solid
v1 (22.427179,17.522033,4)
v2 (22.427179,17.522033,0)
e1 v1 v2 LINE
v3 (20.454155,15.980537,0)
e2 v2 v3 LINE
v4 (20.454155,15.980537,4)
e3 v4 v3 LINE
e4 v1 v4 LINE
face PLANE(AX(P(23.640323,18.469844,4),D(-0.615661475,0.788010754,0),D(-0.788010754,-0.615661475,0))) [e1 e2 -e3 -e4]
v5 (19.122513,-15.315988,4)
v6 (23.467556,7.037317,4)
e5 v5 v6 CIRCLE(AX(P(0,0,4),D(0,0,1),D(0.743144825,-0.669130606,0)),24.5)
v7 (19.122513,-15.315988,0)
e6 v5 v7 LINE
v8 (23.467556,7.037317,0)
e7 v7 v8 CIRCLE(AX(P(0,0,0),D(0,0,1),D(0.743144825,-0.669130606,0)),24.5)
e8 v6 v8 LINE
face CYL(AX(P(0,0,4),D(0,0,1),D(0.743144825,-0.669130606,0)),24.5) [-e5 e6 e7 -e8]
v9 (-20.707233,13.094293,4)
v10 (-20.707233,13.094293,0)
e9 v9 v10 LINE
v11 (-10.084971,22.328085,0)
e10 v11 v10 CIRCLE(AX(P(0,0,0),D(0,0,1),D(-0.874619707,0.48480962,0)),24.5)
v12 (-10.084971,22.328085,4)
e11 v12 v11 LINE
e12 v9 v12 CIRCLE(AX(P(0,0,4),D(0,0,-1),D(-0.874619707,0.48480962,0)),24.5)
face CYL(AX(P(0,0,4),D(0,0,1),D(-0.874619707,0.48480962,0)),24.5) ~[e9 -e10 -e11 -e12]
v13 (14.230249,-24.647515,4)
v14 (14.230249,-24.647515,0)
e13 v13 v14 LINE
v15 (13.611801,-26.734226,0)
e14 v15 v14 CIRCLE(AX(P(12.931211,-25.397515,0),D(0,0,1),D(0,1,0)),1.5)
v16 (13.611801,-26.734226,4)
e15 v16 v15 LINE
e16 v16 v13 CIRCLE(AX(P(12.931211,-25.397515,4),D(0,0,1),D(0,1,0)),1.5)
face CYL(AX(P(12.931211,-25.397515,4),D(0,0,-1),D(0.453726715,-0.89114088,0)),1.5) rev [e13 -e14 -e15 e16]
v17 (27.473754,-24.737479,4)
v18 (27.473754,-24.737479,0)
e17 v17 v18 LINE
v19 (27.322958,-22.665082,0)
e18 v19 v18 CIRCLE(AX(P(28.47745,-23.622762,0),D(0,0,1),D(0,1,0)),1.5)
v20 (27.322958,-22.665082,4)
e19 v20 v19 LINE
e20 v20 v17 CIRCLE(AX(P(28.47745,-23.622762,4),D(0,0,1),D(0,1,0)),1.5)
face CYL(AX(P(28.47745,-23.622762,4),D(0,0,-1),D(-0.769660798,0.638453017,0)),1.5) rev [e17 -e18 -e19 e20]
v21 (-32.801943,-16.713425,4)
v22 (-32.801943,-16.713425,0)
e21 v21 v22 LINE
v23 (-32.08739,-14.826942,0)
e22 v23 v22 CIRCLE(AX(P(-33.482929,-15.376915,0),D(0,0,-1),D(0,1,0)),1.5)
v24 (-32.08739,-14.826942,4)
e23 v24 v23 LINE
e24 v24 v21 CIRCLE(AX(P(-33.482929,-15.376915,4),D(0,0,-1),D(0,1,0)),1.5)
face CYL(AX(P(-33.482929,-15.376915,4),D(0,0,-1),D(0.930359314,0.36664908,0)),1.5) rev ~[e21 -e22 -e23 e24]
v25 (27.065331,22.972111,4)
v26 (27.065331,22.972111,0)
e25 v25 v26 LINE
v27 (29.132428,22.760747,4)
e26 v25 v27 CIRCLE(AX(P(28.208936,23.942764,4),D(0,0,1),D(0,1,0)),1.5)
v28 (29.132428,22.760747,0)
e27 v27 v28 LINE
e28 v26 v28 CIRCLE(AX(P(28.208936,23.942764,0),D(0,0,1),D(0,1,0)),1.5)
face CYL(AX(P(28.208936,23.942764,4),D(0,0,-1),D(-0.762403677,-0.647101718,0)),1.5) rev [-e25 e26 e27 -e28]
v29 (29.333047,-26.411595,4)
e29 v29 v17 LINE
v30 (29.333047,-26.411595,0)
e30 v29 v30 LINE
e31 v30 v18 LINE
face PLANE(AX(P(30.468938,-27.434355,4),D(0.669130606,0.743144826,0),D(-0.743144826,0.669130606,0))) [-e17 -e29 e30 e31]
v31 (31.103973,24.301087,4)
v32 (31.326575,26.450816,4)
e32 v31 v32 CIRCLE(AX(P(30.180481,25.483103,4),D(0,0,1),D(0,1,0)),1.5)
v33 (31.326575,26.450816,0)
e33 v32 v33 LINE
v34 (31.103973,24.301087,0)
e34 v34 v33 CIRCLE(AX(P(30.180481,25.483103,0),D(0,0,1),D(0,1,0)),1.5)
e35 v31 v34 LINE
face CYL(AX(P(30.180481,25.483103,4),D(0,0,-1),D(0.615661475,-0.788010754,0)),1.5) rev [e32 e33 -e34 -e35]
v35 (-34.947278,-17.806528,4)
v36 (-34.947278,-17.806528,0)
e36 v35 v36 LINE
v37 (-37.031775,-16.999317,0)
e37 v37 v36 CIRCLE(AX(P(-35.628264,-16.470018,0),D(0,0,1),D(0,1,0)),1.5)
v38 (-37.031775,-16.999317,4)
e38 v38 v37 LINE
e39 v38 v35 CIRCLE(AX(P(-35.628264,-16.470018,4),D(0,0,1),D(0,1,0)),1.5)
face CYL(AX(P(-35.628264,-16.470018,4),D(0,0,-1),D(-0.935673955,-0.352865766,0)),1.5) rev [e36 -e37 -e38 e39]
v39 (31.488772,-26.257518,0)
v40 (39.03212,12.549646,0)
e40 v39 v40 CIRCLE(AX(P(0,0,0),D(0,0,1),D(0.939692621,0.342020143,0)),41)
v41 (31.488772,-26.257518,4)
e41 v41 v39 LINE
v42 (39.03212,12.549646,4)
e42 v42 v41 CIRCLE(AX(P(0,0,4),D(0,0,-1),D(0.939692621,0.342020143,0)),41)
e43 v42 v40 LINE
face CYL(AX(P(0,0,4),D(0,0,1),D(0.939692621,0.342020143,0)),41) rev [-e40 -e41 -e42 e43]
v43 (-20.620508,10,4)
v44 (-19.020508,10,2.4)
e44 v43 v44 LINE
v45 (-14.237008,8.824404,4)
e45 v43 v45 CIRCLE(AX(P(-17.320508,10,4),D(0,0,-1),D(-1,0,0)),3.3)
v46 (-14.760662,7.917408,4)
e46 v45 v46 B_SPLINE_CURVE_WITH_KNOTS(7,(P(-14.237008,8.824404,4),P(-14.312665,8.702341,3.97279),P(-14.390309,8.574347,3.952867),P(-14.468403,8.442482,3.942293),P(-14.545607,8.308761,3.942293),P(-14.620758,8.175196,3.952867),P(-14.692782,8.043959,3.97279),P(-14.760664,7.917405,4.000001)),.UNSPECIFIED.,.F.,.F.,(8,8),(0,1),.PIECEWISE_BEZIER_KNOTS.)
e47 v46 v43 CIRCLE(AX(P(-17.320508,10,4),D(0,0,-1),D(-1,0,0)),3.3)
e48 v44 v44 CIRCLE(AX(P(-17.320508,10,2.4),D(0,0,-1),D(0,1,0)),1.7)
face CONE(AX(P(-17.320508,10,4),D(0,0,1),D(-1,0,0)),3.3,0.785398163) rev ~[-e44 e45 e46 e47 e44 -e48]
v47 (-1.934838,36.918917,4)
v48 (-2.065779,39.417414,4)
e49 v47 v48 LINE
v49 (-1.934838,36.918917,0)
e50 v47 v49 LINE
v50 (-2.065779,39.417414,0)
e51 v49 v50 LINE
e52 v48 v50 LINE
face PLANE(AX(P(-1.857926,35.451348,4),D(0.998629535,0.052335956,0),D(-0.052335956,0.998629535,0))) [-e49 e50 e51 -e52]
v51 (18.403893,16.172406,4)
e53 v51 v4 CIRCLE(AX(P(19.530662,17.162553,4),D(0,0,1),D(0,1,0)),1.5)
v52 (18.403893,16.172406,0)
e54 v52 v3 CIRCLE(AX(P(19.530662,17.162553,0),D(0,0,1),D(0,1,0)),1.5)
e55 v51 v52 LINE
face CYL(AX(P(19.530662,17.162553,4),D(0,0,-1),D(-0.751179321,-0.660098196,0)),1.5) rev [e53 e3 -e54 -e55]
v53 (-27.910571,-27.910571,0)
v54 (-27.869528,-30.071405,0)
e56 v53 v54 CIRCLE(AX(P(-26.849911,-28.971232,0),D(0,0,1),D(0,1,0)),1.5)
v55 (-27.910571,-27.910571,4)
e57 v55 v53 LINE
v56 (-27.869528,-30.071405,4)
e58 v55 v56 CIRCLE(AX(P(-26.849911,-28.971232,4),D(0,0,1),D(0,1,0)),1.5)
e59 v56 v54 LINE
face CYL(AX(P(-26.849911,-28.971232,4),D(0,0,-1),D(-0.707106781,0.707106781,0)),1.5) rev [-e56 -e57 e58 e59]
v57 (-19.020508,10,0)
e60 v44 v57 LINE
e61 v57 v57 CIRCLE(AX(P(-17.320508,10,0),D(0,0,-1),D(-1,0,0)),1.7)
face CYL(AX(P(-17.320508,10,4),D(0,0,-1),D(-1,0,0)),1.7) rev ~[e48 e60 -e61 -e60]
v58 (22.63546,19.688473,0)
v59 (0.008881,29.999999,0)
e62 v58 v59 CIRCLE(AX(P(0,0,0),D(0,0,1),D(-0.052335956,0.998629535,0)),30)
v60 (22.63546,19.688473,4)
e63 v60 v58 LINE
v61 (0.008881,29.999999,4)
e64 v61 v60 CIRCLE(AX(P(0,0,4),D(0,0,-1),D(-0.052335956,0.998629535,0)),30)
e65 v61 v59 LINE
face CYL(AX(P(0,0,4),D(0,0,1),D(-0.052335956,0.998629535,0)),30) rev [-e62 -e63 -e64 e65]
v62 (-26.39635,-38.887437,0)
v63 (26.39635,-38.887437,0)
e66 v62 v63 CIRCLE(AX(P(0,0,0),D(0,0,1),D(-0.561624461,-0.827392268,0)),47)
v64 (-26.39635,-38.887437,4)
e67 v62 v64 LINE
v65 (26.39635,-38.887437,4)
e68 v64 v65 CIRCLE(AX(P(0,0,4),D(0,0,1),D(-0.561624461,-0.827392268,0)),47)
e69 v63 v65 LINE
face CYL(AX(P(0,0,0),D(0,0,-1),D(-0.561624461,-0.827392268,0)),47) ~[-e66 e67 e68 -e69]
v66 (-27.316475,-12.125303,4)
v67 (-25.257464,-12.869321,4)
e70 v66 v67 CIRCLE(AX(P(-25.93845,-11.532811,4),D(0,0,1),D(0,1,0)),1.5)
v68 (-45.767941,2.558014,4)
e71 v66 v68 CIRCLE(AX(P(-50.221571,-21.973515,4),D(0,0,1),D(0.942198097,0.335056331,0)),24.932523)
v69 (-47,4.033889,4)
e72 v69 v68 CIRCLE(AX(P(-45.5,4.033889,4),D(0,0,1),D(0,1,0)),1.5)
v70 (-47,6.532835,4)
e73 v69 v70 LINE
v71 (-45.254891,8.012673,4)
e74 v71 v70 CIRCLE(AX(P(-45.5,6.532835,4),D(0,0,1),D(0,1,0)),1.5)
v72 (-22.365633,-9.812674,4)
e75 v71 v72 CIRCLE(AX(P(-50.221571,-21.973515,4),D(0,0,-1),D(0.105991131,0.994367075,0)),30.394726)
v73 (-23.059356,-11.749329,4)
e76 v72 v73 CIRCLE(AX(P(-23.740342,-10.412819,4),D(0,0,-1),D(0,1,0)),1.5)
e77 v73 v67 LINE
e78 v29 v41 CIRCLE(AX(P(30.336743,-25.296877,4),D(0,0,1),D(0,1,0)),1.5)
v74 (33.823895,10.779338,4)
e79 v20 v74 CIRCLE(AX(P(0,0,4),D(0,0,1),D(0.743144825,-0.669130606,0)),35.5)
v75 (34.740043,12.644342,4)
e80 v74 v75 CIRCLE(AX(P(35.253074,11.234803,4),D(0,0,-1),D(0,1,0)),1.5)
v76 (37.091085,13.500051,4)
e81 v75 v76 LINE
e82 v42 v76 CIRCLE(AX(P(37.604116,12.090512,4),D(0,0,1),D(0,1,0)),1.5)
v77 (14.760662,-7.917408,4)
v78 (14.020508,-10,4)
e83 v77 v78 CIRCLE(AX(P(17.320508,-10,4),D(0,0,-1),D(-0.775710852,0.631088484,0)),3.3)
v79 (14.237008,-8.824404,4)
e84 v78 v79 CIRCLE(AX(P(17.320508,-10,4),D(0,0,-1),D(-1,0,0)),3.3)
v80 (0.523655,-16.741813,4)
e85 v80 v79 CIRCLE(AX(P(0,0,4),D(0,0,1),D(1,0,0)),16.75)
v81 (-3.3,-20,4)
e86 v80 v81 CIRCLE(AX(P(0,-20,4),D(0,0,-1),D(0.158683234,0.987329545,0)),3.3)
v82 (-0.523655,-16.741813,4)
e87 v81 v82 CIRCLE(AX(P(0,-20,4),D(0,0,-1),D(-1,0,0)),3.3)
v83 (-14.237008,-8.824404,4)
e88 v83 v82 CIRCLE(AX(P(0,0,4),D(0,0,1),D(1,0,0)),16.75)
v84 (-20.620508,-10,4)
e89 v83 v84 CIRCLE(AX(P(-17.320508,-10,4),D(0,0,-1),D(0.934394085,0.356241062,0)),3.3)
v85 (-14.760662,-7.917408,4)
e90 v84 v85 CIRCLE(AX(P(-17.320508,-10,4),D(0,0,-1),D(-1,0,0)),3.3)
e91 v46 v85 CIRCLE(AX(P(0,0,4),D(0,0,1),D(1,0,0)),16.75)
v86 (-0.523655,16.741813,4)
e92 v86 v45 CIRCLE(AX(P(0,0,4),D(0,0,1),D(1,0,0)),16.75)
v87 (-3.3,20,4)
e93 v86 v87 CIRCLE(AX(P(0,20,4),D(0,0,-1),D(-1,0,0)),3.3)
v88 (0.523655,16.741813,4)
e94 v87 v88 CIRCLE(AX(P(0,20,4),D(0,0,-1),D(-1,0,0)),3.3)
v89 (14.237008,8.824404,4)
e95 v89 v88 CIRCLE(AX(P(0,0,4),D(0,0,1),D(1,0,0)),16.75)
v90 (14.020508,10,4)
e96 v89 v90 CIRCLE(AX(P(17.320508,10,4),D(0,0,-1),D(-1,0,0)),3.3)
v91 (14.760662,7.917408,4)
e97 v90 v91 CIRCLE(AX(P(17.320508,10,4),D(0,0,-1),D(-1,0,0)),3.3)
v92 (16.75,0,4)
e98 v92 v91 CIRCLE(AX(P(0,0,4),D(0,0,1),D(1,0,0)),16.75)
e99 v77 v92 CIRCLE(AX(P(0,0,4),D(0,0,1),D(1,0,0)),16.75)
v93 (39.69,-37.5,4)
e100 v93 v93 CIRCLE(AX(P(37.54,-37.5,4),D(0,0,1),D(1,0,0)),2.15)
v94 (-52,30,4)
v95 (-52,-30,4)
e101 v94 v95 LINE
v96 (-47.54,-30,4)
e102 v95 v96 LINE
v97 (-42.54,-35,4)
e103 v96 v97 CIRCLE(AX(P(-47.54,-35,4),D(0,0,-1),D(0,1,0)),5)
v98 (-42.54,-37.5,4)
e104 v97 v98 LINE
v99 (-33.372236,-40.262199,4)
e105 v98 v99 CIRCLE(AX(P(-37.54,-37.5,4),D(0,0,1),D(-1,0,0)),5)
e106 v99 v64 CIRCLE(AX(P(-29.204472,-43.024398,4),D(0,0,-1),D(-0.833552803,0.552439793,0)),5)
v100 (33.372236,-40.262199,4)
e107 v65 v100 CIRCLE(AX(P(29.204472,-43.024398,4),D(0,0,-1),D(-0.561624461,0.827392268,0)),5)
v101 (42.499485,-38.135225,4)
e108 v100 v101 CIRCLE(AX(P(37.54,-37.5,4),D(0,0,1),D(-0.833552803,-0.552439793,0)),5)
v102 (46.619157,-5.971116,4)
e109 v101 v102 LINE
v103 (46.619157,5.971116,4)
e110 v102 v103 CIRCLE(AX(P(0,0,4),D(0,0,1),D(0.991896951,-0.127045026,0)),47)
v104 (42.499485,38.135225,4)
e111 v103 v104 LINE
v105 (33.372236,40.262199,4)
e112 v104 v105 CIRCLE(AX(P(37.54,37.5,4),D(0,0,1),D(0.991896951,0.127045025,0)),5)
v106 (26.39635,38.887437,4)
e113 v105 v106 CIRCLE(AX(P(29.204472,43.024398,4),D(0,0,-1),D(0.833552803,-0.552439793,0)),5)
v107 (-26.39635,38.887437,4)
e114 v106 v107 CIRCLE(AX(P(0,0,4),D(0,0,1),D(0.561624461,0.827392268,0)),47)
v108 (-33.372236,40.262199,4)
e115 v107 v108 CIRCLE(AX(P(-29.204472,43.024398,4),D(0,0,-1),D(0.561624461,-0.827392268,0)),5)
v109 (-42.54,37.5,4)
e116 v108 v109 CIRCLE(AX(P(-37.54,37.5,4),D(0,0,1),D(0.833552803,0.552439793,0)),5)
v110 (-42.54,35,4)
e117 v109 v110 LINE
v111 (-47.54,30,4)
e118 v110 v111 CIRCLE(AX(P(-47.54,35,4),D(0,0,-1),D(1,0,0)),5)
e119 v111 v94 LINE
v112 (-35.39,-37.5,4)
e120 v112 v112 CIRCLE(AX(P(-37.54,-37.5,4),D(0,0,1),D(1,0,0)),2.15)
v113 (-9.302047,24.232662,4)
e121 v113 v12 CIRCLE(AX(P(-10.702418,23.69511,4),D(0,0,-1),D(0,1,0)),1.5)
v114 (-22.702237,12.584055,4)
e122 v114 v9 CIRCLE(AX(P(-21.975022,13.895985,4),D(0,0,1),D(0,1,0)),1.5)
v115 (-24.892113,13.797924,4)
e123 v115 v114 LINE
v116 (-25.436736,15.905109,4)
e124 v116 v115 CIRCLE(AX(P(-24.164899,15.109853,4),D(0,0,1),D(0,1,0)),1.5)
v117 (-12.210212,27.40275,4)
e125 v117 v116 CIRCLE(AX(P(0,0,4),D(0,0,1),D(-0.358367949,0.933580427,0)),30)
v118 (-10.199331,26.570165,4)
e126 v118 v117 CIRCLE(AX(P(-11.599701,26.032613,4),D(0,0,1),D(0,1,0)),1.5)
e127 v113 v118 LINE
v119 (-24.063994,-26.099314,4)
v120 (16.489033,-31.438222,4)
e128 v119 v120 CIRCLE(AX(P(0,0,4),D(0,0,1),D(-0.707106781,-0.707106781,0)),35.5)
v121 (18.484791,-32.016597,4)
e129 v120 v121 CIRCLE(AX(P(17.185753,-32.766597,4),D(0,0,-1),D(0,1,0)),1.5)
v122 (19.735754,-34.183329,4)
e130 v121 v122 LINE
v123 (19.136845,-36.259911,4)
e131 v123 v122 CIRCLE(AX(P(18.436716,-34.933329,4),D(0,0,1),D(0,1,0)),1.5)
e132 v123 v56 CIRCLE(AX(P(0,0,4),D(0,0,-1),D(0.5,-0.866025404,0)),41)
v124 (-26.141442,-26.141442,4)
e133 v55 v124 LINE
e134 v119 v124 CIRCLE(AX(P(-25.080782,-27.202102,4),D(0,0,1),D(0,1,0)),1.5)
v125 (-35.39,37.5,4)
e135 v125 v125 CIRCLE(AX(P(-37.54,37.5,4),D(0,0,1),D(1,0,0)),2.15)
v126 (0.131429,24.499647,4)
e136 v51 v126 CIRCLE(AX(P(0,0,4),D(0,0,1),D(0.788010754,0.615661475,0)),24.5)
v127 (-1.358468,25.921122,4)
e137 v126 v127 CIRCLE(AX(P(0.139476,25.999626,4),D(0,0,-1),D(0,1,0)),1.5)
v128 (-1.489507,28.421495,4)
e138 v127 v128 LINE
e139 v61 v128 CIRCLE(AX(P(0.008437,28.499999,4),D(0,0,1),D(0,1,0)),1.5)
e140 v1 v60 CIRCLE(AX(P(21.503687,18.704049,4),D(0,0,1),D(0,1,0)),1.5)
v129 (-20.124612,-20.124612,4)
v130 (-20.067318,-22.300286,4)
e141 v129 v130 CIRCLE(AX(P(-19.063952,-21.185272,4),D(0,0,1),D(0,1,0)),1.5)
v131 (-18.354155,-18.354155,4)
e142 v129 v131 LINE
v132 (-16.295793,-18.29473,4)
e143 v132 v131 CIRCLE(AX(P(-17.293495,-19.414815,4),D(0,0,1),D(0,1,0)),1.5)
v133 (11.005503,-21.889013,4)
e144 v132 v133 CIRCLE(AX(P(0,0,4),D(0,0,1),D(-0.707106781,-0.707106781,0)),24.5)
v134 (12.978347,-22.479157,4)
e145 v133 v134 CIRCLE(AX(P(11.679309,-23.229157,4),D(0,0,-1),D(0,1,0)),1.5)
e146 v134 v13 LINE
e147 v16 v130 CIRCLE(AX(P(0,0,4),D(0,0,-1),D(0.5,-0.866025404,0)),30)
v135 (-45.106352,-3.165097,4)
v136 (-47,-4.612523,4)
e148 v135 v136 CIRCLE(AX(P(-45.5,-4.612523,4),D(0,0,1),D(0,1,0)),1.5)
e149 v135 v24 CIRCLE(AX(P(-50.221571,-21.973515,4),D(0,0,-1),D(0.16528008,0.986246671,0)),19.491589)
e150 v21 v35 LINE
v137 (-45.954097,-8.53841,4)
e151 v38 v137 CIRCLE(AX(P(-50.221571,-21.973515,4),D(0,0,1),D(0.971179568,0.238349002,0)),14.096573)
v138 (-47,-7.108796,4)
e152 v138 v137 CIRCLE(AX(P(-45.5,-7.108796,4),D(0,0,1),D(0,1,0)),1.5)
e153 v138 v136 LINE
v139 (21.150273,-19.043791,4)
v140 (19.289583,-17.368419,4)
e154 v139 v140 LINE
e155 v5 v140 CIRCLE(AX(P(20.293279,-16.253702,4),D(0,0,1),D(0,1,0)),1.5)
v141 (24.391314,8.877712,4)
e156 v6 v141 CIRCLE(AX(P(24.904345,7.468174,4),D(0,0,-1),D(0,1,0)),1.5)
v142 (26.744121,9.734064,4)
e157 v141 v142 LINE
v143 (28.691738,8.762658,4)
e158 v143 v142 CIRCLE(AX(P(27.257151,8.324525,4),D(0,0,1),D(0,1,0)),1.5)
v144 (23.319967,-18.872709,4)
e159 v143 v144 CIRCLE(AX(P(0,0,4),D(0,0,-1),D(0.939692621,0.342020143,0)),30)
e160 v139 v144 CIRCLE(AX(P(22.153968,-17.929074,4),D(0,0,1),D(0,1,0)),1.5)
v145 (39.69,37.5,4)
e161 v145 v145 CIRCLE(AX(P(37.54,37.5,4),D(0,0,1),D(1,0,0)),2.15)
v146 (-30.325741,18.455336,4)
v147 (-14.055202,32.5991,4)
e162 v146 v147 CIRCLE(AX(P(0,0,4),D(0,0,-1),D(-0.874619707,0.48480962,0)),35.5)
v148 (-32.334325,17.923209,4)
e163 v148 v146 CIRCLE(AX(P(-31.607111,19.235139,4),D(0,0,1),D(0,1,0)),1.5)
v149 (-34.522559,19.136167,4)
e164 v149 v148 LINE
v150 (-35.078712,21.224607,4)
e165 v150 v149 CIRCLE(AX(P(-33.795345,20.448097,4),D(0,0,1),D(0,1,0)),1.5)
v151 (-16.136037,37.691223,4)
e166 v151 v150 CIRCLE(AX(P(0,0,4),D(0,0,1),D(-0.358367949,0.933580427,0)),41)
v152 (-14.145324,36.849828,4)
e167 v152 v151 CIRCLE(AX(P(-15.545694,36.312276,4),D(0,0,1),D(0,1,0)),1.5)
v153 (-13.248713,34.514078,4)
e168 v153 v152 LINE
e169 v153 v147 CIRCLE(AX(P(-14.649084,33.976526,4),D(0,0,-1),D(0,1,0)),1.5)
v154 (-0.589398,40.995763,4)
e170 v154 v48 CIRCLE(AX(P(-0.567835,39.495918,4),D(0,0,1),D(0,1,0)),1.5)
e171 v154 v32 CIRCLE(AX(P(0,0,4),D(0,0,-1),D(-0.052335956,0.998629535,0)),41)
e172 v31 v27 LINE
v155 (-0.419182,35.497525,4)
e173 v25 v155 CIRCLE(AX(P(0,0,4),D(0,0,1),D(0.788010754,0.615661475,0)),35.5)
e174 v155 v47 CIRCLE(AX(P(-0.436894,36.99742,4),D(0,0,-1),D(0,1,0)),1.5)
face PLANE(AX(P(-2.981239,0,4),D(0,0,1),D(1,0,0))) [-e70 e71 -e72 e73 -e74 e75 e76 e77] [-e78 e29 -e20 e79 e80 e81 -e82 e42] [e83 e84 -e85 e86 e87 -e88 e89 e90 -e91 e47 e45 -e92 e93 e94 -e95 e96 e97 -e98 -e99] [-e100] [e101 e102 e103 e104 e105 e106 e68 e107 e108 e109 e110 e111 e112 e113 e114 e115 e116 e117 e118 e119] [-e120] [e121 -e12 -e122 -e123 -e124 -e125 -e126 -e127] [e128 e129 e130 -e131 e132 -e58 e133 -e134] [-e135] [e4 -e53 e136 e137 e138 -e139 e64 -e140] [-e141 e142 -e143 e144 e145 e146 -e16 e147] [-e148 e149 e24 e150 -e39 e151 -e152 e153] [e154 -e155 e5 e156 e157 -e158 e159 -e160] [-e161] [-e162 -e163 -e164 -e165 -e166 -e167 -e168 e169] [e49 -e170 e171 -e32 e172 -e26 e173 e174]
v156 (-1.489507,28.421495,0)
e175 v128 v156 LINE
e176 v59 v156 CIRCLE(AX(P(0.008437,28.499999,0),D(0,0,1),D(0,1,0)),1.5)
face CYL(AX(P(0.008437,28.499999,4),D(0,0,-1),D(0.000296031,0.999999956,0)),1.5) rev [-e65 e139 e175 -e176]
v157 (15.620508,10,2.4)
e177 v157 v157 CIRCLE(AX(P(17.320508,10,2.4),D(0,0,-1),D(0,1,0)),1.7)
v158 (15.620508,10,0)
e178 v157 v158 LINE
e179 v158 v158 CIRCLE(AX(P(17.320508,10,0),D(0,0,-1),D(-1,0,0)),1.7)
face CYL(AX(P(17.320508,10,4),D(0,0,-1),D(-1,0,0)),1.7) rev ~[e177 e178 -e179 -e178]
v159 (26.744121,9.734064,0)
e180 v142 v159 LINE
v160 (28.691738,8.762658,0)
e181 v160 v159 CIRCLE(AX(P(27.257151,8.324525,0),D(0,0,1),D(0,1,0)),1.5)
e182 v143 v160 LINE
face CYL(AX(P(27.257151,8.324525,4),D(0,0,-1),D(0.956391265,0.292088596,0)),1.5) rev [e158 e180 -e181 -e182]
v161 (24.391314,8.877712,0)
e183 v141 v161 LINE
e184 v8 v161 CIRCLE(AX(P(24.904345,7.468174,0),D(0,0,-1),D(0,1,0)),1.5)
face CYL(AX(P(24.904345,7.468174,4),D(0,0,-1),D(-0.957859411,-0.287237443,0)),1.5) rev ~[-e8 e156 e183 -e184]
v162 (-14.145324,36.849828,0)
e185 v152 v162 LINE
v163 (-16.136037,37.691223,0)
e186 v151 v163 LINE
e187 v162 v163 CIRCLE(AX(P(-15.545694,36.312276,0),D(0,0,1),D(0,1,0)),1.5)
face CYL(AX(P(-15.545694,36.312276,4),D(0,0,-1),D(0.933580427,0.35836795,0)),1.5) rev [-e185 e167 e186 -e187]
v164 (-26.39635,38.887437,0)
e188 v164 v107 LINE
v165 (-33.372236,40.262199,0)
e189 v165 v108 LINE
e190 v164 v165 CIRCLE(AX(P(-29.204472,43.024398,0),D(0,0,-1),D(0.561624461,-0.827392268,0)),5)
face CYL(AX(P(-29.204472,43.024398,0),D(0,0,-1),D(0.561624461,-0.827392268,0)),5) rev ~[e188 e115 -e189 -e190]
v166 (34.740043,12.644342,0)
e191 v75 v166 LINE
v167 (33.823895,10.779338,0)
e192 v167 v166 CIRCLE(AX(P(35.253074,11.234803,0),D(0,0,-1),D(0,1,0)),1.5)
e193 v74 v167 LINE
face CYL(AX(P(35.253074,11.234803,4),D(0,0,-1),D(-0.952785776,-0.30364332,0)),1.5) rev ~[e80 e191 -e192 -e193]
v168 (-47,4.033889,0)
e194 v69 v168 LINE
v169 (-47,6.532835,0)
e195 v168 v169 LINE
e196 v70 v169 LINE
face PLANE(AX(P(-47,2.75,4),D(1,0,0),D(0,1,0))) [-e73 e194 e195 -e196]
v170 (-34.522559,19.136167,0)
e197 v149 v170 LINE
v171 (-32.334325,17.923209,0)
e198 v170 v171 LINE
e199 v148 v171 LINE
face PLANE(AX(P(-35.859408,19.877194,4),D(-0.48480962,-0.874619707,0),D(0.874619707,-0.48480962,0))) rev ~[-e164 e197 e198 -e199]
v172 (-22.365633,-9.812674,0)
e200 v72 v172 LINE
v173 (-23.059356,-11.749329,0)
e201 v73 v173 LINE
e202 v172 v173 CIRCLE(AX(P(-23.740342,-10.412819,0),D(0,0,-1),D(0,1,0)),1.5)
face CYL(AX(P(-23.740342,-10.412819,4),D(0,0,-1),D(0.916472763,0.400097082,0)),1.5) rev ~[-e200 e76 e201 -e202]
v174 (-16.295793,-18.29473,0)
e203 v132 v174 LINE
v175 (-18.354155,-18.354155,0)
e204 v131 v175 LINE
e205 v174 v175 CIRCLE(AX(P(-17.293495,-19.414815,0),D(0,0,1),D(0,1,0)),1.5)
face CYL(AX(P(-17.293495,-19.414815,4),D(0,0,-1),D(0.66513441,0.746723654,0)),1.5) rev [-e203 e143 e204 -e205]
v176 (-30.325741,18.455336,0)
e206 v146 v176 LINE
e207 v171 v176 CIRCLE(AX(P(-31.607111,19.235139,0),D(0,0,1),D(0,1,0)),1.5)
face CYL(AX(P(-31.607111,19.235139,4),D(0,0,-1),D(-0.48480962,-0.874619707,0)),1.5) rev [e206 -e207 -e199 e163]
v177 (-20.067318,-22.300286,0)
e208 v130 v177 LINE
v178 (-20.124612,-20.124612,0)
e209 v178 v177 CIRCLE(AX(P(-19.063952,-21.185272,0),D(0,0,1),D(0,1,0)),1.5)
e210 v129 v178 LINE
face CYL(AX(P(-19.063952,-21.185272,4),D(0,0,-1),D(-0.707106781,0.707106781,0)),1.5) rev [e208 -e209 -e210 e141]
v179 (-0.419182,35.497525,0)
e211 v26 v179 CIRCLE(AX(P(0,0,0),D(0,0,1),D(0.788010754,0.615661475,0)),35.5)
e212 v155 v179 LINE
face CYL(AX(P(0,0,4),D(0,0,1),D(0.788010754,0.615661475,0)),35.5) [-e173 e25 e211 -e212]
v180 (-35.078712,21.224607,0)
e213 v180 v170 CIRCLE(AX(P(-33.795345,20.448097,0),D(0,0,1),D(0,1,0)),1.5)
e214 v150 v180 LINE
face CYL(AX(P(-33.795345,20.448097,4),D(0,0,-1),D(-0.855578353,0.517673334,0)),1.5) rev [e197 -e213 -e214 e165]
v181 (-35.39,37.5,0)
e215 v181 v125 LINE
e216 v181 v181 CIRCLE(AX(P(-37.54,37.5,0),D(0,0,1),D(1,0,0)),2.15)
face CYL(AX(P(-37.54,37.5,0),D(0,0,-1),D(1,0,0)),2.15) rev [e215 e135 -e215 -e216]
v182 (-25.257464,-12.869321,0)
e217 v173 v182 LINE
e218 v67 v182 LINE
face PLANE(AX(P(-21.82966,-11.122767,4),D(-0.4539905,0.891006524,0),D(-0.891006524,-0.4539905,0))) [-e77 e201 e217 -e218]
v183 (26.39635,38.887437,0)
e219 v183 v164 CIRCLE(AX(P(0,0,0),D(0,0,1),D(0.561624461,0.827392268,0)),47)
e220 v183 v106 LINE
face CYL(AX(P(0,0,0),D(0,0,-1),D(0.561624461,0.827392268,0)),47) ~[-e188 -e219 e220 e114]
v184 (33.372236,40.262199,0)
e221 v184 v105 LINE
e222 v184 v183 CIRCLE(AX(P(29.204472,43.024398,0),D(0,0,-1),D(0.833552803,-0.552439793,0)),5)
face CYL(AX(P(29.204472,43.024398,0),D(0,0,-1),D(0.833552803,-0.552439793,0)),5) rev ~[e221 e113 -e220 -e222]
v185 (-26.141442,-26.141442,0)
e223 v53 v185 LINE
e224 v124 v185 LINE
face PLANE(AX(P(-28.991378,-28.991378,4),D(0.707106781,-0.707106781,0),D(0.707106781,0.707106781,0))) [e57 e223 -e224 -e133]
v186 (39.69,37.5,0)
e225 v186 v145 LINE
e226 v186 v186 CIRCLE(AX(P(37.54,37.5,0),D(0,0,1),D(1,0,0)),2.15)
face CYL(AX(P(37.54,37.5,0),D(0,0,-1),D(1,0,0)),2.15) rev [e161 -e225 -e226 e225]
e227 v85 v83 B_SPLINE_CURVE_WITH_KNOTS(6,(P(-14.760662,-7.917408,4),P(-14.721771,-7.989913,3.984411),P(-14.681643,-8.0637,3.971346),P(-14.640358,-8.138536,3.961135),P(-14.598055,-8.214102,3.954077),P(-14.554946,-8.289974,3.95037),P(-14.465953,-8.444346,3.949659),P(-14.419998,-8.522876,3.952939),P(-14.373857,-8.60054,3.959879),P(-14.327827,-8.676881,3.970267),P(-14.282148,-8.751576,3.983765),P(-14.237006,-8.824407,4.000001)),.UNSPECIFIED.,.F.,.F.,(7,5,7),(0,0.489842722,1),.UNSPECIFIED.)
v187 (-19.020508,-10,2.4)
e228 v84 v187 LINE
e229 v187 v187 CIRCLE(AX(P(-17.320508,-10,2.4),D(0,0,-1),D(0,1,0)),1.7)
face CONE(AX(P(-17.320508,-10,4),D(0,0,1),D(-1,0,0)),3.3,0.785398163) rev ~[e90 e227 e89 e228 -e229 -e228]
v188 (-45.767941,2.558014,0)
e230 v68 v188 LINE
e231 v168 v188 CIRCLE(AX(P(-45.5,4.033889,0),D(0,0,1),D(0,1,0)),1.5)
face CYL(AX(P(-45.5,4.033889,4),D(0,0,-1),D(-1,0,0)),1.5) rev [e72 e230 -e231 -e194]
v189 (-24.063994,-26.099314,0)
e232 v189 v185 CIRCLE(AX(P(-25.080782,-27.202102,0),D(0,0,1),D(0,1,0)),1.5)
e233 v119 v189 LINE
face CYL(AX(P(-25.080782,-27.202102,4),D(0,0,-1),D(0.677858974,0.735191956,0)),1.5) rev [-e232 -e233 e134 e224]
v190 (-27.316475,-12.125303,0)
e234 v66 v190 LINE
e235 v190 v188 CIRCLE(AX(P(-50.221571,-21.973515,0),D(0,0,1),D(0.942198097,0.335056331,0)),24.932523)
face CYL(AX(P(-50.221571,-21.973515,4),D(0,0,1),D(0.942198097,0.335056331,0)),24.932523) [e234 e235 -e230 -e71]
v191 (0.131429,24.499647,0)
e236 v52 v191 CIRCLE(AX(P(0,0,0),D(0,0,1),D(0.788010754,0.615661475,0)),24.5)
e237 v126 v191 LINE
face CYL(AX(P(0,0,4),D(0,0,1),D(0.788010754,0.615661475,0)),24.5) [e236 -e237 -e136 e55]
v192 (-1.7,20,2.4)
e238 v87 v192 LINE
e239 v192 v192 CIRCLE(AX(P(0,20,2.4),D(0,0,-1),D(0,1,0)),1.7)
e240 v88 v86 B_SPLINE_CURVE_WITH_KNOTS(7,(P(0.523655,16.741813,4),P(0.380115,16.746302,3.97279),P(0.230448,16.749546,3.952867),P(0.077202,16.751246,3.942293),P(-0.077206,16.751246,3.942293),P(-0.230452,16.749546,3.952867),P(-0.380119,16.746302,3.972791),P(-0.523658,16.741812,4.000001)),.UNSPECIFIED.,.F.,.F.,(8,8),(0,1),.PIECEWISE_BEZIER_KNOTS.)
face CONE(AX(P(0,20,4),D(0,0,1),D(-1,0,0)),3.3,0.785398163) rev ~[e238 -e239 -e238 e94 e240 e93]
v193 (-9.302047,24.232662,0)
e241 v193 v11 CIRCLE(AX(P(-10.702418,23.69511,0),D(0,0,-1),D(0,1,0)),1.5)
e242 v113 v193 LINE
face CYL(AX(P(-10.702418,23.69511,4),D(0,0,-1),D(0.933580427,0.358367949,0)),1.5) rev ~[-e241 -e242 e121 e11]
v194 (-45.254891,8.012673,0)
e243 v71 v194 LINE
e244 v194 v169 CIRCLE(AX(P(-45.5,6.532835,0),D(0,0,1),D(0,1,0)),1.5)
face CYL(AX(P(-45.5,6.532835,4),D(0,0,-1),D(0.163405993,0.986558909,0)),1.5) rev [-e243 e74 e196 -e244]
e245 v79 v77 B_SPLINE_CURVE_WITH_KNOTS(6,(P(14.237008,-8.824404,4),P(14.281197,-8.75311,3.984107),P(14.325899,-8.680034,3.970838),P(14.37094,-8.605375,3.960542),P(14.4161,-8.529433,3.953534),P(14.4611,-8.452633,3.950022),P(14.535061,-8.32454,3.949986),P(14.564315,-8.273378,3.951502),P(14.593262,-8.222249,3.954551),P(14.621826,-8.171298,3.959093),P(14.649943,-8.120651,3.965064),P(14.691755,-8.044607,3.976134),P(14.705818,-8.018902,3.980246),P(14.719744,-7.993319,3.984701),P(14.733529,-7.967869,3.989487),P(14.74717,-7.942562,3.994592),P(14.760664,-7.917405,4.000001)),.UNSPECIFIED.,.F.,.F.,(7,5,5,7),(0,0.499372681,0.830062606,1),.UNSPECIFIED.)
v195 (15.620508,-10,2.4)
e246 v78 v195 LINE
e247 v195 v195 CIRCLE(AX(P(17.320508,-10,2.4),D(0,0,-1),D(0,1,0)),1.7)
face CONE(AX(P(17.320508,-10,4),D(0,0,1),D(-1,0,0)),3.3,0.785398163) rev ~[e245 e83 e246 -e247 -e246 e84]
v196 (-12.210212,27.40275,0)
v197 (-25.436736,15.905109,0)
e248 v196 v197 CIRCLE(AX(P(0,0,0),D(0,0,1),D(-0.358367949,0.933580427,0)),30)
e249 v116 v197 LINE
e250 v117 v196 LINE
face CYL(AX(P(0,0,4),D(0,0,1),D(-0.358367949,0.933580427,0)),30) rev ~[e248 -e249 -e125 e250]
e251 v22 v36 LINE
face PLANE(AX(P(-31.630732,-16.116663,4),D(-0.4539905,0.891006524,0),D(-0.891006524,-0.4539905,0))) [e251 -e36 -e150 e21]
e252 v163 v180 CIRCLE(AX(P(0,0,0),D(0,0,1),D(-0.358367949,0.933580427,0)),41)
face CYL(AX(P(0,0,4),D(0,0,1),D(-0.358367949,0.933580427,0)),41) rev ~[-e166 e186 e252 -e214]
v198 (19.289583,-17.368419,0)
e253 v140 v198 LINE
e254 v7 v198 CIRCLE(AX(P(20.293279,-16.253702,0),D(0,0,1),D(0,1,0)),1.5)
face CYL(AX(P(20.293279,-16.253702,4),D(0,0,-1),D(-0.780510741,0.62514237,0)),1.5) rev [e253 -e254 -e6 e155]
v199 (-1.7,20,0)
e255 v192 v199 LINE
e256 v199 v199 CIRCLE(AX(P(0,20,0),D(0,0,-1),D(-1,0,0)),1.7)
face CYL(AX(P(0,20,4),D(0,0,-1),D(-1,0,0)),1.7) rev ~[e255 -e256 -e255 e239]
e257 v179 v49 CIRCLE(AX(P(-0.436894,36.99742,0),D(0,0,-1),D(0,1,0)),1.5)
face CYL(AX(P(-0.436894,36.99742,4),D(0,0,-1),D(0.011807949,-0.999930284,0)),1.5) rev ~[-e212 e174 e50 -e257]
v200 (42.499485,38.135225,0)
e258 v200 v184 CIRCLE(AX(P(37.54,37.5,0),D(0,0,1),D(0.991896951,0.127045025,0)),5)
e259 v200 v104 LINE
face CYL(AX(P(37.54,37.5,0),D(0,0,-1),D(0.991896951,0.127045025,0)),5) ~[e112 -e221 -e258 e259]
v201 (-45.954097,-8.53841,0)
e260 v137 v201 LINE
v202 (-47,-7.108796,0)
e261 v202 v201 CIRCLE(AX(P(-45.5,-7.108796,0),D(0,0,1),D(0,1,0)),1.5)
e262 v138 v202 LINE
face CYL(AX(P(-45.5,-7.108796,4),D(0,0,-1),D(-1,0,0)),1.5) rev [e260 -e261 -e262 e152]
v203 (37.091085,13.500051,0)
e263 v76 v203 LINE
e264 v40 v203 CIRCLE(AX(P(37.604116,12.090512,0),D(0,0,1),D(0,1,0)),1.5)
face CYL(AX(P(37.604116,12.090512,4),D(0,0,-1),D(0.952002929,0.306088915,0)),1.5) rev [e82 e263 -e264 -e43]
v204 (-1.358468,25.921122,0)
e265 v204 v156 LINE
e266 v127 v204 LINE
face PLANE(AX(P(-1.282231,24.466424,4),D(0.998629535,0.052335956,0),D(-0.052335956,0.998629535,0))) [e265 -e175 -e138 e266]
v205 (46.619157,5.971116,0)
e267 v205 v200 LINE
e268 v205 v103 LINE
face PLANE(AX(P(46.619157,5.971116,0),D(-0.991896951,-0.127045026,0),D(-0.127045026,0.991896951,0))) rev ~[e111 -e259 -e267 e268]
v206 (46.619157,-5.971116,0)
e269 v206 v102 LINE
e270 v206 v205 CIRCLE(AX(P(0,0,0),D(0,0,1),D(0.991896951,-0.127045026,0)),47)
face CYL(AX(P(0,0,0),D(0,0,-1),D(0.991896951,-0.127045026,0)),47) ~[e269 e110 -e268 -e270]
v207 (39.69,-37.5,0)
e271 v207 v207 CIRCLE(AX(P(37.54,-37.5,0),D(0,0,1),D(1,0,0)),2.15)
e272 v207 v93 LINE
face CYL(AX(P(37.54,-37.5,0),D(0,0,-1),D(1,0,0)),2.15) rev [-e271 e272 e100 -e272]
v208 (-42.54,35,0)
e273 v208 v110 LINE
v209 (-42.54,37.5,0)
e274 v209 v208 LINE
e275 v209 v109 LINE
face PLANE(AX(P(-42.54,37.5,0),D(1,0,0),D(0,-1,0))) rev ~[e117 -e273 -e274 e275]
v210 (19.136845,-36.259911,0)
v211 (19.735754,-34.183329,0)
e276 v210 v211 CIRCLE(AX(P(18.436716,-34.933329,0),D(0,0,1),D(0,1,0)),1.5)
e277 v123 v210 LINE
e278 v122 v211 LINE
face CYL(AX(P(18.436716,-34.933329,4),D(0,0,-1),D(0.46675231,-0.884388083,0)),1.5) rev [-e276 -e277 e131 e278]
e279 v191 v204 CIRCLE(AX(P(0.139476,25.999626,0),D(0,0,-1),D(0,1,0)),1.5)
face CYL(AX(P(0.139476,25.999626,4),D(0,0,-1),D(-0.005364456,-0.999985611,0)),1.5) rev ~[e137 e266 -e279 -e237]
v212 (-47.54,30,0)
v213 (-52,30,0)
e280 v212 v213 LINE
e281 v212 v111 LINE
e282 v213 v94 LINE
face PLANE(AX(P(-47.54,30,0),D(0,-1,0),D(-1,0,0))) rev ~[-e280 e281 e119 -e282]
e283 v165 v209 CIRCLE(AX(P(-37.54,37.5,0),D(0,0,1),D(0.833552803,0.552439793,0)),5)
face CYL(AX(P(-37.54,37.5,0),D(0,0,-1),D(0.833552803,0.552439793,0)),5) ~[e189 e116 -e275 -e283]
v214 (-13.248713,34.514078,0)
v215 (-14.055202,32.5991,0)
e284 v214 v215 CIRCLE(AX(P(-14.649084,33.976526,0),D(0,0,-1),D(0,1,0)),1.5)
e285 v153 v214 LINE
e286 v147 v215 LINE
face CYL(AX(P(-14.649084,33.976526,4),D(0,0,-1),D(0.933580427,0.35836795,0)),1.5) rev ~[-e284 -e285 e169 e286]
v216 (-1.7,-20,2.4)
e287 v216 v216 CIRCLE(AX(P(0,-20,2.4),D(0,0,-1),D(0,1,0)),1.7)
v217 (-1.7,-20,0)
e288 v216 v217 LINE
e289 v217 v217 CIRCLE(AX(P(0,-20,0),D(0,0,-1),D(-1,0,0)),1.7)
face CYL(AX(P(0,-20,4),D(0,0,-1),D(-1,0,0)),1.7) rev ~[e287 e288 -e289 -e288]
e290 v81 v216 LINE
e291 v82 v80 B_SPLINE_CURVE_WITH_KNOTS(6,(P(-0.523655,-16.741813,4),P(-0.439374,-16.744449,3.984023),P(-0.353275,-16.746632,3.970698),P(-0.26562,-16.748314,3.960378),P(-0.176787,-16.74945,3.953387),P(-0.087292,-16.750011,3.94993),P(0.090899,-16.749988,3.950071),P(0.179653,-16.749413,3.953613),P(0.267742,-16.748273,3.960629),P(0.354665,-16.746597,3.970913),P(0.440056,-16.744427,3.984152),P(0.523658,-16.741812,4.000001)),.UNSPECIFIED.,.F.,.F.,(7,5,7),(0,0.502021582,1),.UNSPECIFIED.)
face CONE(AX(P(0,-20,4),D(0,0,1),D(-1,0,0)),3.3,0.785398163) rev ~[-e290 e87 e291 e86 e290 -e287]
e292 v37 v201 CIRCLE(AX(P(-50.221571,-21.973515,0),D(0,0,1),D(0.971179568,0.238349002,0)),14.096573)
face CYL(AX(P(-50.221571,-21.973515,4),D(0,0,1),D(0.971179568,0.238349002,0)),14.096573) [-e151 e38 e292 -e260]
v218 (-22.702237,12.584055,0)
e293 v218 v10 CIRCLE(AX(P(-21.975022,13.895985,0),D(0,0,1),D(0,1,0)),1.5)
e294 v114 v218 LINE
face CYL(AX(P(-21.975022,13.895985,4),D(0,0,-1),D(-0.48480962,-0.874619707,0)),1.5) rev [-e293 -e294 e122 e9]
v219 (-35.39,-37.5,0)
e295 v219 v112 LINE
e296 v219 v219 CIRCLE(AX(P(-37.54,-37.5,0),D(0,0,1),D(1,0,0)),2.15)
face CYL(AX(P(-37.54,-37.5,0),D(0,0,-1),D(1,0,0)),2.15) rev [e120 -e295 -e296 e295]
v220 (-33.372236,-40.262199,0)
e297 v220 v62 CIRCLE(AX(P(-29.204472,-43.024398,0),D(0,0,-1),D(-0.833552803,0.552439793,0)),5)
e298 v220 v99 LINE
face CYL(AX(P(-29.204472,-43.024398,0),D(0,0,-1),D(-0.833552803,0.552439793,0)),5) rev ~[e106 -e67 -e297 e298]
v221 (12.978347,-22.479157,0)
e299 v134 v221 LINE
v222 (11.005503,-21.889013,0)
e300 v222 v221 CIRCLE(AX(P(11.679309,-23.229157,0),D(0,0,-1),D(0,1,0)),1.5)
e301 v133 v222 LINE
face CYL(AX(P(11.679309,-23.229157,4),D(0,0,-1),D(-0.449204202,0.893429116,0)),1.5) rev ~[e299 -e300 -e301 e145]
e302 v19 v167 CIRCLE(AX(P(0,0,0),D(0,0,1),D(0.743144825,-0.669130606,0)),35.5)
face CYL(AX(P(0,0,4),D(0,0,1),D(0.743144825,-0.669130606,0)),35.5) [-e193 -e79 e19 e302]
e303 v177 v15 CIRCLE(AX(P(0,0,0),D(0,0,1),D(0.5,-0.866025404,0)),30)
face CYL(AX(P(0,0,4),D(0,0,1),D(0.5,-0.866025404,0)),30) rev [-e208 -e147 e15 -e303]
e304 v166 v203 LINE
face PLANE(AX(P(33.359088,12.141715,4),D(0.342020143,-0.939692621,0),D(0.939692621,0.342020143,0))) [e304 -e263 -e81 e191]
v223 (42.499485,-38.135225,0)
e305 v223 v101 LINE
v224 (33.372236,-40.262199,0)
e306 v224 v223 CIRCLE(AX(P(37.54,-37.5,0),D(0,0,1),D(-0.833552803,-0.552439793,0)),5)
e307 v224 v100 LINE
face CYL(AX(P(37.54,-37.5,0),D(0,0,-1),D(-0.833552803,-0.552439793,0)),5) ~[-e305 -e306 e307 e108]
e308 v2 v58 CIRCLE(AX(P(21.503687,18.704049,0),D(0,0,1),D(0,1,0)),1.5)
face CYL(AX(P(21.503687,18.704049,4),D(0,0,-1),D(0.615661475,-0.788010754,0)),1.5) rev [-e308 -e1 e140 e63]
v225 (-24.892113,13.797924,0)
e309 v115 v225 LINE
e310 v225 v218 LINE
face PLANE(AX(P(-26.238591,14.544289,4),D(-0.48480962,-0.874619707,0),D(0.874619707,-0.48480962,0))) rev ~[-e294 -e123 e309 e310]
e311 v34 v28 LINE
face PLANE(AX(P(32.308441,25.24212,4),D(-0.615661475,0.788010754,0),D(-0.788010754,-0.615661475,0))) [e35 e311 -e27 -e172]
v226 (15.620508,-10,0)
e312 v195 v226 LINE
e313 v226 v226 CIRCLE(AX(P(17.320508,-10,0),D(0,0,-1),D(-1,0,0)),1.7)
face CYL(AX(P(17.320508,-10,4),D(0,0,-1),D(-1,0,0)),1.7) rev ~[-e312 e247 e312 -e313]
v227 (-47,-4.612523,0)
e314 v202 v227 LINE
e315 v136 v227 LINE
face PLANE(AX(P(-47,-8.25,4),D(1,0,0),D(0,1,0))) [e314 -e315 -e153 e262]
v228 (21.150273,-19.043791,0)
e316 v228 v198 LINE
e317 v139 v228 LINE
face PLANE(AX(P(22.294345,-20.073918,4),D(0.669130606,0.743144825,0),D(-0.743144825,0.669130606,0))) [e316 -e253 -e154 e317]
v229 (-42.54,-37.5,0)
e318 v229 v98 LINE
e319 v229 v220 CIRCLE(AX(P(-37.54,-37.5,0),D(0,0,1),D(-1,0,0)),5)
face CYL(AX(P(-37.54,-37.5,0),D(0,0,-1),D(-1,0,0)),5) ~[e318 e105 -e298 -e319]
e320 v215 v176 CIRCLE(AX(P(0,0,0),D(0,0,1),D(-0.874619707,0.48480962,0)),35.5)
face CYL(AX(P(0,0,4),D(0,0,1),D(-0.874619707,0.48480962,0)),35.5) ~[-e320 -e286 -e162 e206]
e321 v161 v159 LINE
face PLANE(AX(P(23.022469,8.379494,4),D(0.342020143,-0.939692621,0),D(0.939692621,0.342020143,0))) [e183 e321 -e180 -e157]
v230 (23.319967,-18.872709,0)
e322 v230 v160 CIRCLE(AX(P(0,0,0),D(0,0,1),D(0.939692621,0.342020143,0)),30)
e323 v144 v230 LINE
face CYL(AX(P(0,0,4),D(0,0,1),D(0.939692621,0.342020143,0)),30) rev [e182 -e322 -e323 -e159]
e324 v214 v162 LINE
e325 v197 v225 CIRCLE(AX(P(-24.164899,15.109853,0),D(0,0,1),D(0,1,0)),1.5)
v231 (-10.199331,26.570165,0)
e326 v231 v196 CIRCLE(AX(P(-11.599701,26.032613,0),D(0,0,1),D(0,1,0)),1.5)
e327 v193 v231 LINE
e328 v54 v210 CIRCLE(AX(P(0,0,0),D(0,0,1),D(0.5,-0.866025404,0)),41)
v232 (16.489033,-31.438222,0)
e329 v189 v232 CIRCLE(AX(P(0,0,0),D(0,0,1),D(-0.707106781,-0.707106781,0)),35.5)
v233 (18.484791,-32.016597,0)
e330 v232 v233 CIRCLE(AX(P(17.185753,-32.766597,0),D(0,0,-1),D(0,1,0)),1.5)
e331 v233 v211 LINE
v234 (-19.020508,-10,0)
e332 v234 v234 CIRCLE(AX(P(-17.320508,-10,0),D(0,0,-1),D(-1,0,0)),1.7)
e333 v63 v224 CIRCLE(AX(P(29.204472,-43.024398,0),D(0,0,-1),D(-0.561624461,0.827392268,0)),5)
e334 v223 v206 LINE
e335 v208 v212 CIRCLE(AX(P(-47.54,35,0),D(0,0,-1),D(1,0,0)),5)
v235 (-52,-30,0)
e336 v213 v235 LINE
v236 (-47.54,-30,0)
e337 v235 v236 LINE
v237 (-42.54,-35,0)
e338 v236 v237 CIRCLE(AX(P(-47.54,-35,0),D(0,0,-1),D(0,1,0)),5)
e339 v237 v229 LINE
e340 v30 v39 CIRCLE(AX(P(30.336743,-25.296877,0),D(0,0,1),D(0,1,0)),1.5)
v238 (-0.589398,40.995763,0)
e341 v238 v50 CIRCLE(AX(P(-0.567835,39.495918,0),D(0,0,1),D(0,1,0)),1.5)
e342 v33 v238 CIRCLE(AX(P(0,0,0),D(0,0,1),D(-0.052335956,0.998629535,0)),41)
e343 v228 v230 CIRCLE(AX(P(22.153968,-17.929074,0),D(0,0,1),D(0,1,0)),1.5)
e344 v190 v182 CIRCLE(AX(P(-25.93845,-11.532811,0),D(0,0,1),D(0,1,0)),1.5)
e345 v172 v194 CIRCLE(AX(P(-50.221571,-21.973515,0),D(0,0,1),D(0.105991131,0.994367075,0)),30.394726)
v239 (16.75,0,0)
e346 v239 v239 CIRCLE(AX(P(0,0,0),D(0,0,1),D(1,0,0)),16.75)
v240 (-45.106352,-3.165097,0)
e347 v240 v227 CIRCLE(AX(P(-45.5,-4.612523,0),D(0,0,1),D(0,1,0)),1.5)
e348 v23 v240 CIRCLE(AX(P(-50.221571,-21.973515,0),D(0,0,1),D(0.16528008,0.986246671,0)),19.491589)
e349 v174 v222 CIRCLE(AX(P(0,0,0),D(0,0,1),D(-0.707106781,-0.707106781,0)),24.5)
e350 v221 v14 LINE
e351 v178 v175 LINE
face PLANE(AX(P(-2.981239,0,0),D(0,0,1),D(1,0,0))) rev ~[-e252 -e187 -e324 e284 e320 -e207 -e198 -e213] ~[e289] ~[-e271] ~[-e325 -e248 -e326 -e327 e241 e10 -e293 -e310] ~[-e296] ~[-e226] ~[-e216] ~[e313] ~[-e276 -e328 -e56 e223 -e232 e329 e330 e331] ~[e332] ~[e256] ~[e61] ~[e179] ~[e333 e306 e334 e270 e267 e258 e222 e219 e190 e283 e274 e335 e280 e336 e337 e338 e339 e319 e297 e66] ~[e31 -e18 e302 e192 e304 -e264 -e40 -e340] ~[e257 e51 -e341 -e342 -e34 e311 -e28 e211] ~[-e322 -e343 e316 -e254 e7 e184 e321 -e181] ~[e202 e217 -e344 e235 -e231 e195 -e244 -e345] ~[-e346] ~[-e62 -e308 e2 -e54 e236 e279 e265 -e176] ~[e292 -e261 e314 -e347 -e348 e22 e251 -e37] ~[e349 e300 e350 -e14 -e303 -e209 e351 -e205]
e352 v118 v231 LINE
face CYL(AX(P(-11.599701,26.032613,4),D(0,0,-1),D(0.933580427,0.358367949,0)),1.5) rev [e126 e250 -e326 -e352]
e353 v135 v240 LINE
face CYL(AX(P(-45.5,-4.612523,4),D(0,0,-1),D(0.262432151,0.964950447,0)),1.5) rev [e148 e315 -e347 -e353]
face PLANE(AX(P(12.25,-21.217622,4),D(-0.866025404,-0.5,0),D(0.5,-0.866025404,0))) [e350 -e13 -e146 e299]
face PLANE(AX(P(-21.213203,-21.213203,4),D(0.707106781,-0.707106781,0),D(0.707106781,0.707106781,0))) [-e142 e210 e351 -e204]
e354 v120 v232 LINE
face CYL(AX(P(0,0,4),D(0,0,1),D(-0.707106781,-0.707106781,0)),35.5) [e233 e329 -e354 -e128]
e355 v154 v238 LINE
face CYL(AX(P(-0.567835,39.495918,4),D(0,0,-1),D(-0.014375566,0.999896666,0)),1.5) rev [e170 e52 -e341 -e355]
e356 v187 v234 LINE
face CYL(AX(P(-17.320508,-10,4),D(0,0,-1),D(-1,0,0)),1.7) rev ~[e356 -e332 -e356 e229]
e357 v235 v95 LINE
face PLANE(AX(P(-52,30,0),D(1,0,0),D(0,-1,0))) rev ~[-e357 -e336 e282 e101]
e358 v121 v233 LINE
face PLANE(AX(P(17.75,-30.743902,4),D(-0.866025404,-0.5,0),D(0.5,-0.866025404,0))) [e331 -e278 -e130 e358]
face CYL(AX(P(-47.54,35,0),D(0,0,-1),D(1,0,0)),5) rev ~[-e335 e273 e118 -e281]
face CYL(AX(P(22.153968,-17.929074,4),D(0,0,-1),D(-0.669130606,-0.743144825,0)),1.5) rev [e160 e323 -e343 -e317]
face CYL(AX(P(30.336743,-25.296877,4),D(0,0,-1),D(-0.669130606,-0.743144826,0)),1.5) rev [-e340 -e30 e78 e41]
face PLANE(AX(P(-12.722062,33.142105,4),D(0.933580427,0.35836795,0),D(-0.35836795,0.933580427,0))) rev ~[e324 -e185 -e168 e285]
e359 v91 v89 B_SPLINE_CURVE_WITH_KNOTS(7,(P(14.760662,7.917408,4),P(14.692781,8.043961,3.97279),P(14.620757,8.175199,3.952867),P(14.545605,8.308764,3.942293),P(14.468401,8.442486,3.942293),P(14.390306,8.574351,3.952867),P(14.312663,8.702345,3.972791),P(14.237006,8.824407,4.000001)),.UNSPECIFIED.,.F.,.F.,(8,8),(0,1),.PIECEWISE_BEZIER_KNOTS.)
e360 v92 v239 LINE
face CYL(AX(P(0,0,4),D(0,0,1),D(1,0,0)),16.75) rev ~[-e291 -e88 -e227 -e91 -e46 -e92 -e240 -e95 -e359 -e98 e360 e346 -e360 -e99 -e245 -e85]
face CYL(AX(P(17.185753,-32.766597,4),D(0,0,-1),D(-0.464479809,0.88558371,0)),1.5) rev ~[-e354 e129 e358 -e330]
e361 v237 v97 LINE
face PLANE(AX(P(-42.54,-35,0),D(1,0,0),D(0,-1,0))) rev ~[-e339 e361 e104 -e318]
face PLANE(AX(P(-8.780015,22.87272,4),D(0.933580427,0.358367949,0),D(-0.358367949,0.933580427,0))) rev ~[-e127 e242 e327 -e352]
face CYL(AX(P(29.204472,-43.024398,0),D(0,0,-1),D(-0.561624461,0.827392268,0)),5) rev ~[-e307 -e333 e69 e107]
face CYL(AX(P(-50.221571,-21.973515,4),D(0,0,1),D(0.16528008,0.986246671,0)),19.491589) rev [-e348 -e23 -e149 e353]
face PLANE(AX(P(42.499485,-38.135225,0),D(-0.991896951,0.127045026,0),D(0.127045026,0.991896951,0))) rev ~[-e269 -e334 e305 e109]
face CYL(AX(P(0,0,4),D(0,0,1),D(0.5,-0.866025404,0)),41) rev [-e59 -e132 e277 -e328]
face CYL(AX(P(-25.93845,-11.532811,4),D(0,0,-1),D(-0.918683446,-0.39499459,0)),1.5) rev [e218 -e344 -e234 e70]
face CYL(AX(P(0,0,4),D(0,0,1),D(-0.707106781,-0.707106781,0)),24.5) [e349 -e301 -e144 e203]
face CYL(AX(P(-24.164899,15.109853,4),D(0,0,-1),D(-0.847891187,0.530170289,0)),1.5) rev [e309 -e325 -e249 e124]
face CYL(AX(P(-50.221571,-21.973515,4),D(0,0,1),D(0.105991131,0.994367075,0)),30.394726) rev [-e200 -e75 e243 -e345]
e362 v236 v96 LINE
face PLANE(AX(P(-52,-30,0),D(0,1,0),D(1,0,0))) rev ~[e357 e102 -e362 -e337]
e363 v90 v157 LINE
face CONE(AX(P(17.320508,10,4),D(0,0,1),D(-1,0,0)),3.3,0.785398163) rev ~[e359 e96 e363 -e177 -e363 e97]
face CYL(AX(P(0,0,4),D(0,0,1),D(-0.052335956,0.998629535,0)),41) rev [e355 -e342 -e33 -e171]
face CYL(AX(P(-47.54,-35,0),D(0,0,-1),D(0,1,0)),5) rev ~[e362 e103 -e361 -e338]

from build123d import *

# Parameters (mm, degrees)
SKETCH_1_R                = 2.15
EXTRUDE_1_DEPTH           = 4
SKETCH_2_R                = 16.75
SKETCH_2_R_2              = 1.65
CUT_EXTRUDE_1_DEPTH       = 10
CUT_EXTRUDE_2_DEPTH       = 10
FILLET_1_R                = 1.5
HOLE_WIZARD_1_D           = 3.4
HOLE_WIZARD_1_CSINK_D     = 6.6
HOLE_WIZARD_1_CSINK_ANGLE = 90


with BuildPart() as part:
    # 草图1 → 凸台-拉伸1 (new body)
    with BuildSketch(Plane.XY):
        with BuildLine():
            Line((-52, 30), (-52, 8.75))
            Line((-52, 8.75), (-52, -8.75))
            Line((-52, -8.75), (-52, -30))
            Line((-52, -30), (-47.54, -30))
            ThreePointArc((-47.54, -30), (-44.004466094, -31.464466094), (-42.54, -35))
            Line((-42.54, -35), (-42.54, -37.5))
            ThreePointArc((-42.54, -37.5), (-38.982425028, -42.287422066), (-33.372235985, -40.262198963))
            ThreePointArc((-33.372235985, -40.262198963), (-30.171244586, -38.118753147), (-26.396349665, -38.887436588))
            ThreePointArc((-26.396349665, -38.887436588), (0, -47), (26.396349665, -38.887436588))
            ThreePointArc((26.396349665, -38.887436588), (30.171244586, -38.118753147), (33.372235985, -40.262198963))
            ThreePointArc((33.372235985, -40.262198963), (38.674773042, -42.369526686), (42.499484755, -38.135225128))
            Line((42.499484755, -38.135225128), (46.619156699, -5.971116201))
            ThreePointArc((46.619156699, -5.971116201), (47, 0), (46.619156699, 5.971116201))
            Line((46.619156699, 5.971116201), (42.499484755, 38.135225128))
            ThreePointArc((42.499484755, 38.135225128), (38.674773042, 42.369526686), (33.372235985, 40.262198963))
            ThreePointArc((33.372235985, 40.262198963), (30.171244586, 38.118753147), (26.396349665, 38.887436588))
            ThreePointArc((26.396349665, 38.887436588), (0, 47), (-26.396349665, 38.887436588))
            ThreePointArc((-26.396349665, 38.887436588), (-30.171244586, 38.118753147), (-33.372235985, 40.262198963))
            ThreePointArc((-33.372235985, 40.262198963), (-38.982425028, 42.287422066), (-42.54, 37.5))
            Line((-42.54, 37.5), (-42.54, 35))
            ThreePointArc((-42.54, 35), (-44.004466094, 31.464466094), (-47.54, 30))
            Line((-47.54, 30), (-52, 30))
        make_face()
        with Locations((-37.54, -37.5)):
            Circle(SKETCH_1_R, mode=Mode.SUBTRACT)
        with Locations((37.54, -37.5)):
            Circle(SKETCH_1_R, mode=Mode.SUBTRACT)
        with Locations((-37.54, 37.5)):
            Circle(SKETCH_1_R, mode=Mode.SUBTRACT)
        with Locations((37.54, 37.5)):
            Circle(SKETCH_1_R, mode=Mode.SUBTRACT)
    extrude(amount=EXTRUDE_1_DEPTH)

    # 草图2 → 切除-拉伸1 (cut)
    with BuildSketch(Plane.XY.offset(4)):
        Circle(SKETCH_2_R)
        with Locations((0, 20)):
            Circle(SKETCH_2_R_2)
        with Locations((17.320508076, 10)):
            Circle(SKETCH_2_R_2)
        with Locations((17.320508076, -10)):
            Circle(SKETCH_2_R_2)
        with Locations((0, -20)):
            Circle(SKETCH_2_R_2)
        with Locations((-17.320508076, -10)):
            Circle(SKETCH_2_R_2)
        with Locations((-17.320508076, 10)):
            Circle(SKETCH_2_R_2)
    extrude(amount=-CUT_EXTRUDE_1_DEPTH, mode=Mode.SUBTRACT)

    # 草图3 → 切除-拉伸2 (cut)
    with BuildSketch(Plane.XY.offset(4)):
        with BuildLine():
            Line((-8.780014764, 22.872720449), (-10.751038486, 28.007412795))
            ThreePointArc((-10.751038486, 28.007412795), (-19.68177087, 22.641287407), (-26.238591214, 14.544288607))
            Line((-26.238591214, 14.544288607), (-21.428182825, 11.877835696))
            ThreePointArc((-21.428182825, 11.877835696), (-16.07344621, 18.490384715), (-8.780014764, 22.872720449))
        make_face()
        with BuildLine():
            Line((-1.282230928, 24.466423601), (-1.570078687, 29.958886043))
            ThreePointArc((-1.570078687, 29.958886043), (12.44079728, 27.298838126), (23.640322608, 18.46984426))
            Line((23.640322608, 18.46984426), (19.306263463, 15.083706145))
            ThreePointArc((19.306263463, 15.083706145), (10.159984445, 22.294051136), (-1.282230928, 24.466423601))
        make_face()
        with BuildLine():
            Line((23.022469209, 8.379493511), (28.190778624, 10.2606043))
            ThreePointArc((28.190778624, 10.2606043), (29.448815503, -5.724269861), (22.294344764, -20.073918191))
            Line((22.294344764, -20.073918191), (18.207048224, -16.393699856))
            ThreePointArc((18.207048224, -16.393699856), (24.049865994, -4.674820387), (23.022469209, 8.379493511))
        make_face()
        with BuildLine():
            Line((12.25, -21.217622393), (15, -25.980762114))
            ThreePointArc((15, -25.980762114), (-3.915785767, -29.743345841), (-21.213203436, -21.213203436))
            Line((-21.213203436, -21.213203436), (-17.324116139, -17.324116139))
            ThreePointArc((-17.324116139, -17.324116139), (-3.197891709, -24.290399104), (12.25, -21.217622393))
        make_face()
        with BuildLine():
            Line((-21.829659843, -11.122767244), (-26.730195726, -13.619714992))
            ThreePointArc((-26.730195726, -13.619714992), (-34.556729311, -2.576519476), (-47, 2.75))
            Line((-47, 2.75), (-47, 8.25))
            ThreePointArc((-47, 8.25), (-31.682987205, 2.113001428), (-21.829659843, -11.122767244))
        make_face()
        with BuildLine():
            Line((-12.722062209, 33.142105141), (-14.693085931, 38.276797486))
            ThreePointArc((-14.693085931, 38.276797486), (-26.898420189, 30.943092789), (-35.859407993, 19.87719443))
            Line((-35.859407993, 19.87719443), (-31.048999603, 17.210741519))
            ThreePointArc((-31.048999603, 17.210741519), (-23.290095529, 26.792190098), (-12.722062209, 33.142105141))
        make_face()
        with BuildLine():
            Line((-1.857926447, 35.451348484), (-2.145774206, 40.943810925))
            ThreePointArc((-2.145774206, 40.943810925), (17.002422949, 37.308412106), (32.308440898, 25.242120488))
            Line((32.308440898, 25.242120488), (27.974381753, 21.855982374))
            ThreePointArc((27.974381753, 21.855982374), (14.721610114, 32.303625116), (-1.857926447, 35.451348484))
        make_face()
        with BuildLine():
            Line((33.359088038, 12.141715088), (38.527397452, 14.022825876))
            ThreePointArc((38.527397452, 14.022825876), (40.246714521, -7.82316881), (30.468937845, -27.434354861))
            Line((30.468937845, -27.434354861), (26.381641304, -23.754136526))
            ThreePointArc((26.381641304, -23.754136526), (34.847765012, -6.773719336), (33.359088038, 12.141715088))
        make_face()
        with BuildLine():
            Line((17.75, -30.743901834), (20.5, -35.507041555))
            ThreePointArc((20.5, -35.507041555), (-5.351573881, -40.649239316), (-28.991378029, -28.991378029))
            Line((-28.991378029, -28.991378029), (-25.102290732, -25.102290732))
            ThreePointArc((-25.102290732, -25.102290732), (-4.633679824, -35.196292579), (17.75, -30.743901834))
        make_face()
        with BuildLine():
            Line((-31.630731609, -16.116662741), (-36.531267492, -18.613610489))
            ThreePointArc((-36.531267492, -18.613610489), (-40.304213522, -11.955561283), (-47, -8.25))
            Line((-47, -8.25), (-47, -2.75))
            ThreePointArc((-47, -2.75), (-37.430471416, -7.266040379), (-31.630731609, -16.116662741))
        make_face()
    extrude(amount=-CUT_EXTRUDE_2_DEPTH, mode=Mode.SUBTRACT)

    # 圆角1
    fillet_1_edges = [part.edges().sort_by_distance(p)[0] for p in [
        (-47, 8.25, 2),
        (-21.829659843, -11.122767244, 2),
        (-26.730195726, -13.619714992, 2),
        (-47, 2.75, 2),
        (-35.859407993, 19.87719443, 2),
        (-14.693085931, 38.276797486, 2),
        (-12.722062209, 33.142105141, 2),
        (-31.048999603, 17.210741519, 2),
        (-17.324116139, -17.324116139, 2),
        (12.25, -21.217622393, 2),
        (15, -25.980762114, 2),
        (-21.213203436, -21.213203436, 2),
        (20.5, -35.507041555, 2),
        (-28.991378029, -28.991378029, 2),
        (-25.102290732, -25.102290732, 2),
        (17.75, -30.743901834, 2),
        (-1.570078687, 29.958886043, 2),
        (23.640322608, 18.46984426, 2),
        (19.306263463, 15.083706145, 2),
        (-1.282230928, 24.466423601, 2),
        (26.381641304, -23.754136526, 2),
        (33.359088038, 12.141715088, 2),
        (38.527397452, 14.022825876, 2),
        (30.468937845, -27.434354861, 2),
        (27.974381753, 21.855982374, 2),
        (-1.857926447, 35.451348484, 2),
        (-2.145774206, 40.943810925, 2),
        (32.308440898, 25.242120488, 2),
        (-8.780014764, 22.872720449, 2),
        (-21.428182825, 11.877835696, 2),
        (-26.238591214, 14.544288607, 2),
        (-10.751038486, 28.007412795, 2),
        (-36.531267492, -18.613610489, 2),
        (-47, -8.25, 2),
        (-47, -2.75, 2),
        (-31.630731609, -16.116662741, 2),
        (28.190778624, 10.2606043, 2),
        (22.294344764, -20.073918191, 2),
        (18.207048224, -16.393699856, 2),
        (23.022469209, 8.379493511, 2),
    ]]
    fillet(fillet_1_edges, radius=FILLET_1_R)

    # 打孔尺寸(%根据十字)槽半沉头木螺钉的类型1 (through all)
    with Locations(Plane(origin=(-17.320508076, 10, 4), x_dir=(1, 0, 0), z_dir=(0, 0, 1))):
        with Locations((0, 0), (17.320508076, 10), (34.641016152, 0), (34.641016152, -20), (17.320508076, -30), (0, -20)):
            CounterSinkHole(HOLE_WIZARD_1_D / 2, HOLE_WIZARD_1_CSINK_D / 2, counter_sink_angle=HOLE_WIZARD_1_CSINK_ANGLE)


solid = part.part
